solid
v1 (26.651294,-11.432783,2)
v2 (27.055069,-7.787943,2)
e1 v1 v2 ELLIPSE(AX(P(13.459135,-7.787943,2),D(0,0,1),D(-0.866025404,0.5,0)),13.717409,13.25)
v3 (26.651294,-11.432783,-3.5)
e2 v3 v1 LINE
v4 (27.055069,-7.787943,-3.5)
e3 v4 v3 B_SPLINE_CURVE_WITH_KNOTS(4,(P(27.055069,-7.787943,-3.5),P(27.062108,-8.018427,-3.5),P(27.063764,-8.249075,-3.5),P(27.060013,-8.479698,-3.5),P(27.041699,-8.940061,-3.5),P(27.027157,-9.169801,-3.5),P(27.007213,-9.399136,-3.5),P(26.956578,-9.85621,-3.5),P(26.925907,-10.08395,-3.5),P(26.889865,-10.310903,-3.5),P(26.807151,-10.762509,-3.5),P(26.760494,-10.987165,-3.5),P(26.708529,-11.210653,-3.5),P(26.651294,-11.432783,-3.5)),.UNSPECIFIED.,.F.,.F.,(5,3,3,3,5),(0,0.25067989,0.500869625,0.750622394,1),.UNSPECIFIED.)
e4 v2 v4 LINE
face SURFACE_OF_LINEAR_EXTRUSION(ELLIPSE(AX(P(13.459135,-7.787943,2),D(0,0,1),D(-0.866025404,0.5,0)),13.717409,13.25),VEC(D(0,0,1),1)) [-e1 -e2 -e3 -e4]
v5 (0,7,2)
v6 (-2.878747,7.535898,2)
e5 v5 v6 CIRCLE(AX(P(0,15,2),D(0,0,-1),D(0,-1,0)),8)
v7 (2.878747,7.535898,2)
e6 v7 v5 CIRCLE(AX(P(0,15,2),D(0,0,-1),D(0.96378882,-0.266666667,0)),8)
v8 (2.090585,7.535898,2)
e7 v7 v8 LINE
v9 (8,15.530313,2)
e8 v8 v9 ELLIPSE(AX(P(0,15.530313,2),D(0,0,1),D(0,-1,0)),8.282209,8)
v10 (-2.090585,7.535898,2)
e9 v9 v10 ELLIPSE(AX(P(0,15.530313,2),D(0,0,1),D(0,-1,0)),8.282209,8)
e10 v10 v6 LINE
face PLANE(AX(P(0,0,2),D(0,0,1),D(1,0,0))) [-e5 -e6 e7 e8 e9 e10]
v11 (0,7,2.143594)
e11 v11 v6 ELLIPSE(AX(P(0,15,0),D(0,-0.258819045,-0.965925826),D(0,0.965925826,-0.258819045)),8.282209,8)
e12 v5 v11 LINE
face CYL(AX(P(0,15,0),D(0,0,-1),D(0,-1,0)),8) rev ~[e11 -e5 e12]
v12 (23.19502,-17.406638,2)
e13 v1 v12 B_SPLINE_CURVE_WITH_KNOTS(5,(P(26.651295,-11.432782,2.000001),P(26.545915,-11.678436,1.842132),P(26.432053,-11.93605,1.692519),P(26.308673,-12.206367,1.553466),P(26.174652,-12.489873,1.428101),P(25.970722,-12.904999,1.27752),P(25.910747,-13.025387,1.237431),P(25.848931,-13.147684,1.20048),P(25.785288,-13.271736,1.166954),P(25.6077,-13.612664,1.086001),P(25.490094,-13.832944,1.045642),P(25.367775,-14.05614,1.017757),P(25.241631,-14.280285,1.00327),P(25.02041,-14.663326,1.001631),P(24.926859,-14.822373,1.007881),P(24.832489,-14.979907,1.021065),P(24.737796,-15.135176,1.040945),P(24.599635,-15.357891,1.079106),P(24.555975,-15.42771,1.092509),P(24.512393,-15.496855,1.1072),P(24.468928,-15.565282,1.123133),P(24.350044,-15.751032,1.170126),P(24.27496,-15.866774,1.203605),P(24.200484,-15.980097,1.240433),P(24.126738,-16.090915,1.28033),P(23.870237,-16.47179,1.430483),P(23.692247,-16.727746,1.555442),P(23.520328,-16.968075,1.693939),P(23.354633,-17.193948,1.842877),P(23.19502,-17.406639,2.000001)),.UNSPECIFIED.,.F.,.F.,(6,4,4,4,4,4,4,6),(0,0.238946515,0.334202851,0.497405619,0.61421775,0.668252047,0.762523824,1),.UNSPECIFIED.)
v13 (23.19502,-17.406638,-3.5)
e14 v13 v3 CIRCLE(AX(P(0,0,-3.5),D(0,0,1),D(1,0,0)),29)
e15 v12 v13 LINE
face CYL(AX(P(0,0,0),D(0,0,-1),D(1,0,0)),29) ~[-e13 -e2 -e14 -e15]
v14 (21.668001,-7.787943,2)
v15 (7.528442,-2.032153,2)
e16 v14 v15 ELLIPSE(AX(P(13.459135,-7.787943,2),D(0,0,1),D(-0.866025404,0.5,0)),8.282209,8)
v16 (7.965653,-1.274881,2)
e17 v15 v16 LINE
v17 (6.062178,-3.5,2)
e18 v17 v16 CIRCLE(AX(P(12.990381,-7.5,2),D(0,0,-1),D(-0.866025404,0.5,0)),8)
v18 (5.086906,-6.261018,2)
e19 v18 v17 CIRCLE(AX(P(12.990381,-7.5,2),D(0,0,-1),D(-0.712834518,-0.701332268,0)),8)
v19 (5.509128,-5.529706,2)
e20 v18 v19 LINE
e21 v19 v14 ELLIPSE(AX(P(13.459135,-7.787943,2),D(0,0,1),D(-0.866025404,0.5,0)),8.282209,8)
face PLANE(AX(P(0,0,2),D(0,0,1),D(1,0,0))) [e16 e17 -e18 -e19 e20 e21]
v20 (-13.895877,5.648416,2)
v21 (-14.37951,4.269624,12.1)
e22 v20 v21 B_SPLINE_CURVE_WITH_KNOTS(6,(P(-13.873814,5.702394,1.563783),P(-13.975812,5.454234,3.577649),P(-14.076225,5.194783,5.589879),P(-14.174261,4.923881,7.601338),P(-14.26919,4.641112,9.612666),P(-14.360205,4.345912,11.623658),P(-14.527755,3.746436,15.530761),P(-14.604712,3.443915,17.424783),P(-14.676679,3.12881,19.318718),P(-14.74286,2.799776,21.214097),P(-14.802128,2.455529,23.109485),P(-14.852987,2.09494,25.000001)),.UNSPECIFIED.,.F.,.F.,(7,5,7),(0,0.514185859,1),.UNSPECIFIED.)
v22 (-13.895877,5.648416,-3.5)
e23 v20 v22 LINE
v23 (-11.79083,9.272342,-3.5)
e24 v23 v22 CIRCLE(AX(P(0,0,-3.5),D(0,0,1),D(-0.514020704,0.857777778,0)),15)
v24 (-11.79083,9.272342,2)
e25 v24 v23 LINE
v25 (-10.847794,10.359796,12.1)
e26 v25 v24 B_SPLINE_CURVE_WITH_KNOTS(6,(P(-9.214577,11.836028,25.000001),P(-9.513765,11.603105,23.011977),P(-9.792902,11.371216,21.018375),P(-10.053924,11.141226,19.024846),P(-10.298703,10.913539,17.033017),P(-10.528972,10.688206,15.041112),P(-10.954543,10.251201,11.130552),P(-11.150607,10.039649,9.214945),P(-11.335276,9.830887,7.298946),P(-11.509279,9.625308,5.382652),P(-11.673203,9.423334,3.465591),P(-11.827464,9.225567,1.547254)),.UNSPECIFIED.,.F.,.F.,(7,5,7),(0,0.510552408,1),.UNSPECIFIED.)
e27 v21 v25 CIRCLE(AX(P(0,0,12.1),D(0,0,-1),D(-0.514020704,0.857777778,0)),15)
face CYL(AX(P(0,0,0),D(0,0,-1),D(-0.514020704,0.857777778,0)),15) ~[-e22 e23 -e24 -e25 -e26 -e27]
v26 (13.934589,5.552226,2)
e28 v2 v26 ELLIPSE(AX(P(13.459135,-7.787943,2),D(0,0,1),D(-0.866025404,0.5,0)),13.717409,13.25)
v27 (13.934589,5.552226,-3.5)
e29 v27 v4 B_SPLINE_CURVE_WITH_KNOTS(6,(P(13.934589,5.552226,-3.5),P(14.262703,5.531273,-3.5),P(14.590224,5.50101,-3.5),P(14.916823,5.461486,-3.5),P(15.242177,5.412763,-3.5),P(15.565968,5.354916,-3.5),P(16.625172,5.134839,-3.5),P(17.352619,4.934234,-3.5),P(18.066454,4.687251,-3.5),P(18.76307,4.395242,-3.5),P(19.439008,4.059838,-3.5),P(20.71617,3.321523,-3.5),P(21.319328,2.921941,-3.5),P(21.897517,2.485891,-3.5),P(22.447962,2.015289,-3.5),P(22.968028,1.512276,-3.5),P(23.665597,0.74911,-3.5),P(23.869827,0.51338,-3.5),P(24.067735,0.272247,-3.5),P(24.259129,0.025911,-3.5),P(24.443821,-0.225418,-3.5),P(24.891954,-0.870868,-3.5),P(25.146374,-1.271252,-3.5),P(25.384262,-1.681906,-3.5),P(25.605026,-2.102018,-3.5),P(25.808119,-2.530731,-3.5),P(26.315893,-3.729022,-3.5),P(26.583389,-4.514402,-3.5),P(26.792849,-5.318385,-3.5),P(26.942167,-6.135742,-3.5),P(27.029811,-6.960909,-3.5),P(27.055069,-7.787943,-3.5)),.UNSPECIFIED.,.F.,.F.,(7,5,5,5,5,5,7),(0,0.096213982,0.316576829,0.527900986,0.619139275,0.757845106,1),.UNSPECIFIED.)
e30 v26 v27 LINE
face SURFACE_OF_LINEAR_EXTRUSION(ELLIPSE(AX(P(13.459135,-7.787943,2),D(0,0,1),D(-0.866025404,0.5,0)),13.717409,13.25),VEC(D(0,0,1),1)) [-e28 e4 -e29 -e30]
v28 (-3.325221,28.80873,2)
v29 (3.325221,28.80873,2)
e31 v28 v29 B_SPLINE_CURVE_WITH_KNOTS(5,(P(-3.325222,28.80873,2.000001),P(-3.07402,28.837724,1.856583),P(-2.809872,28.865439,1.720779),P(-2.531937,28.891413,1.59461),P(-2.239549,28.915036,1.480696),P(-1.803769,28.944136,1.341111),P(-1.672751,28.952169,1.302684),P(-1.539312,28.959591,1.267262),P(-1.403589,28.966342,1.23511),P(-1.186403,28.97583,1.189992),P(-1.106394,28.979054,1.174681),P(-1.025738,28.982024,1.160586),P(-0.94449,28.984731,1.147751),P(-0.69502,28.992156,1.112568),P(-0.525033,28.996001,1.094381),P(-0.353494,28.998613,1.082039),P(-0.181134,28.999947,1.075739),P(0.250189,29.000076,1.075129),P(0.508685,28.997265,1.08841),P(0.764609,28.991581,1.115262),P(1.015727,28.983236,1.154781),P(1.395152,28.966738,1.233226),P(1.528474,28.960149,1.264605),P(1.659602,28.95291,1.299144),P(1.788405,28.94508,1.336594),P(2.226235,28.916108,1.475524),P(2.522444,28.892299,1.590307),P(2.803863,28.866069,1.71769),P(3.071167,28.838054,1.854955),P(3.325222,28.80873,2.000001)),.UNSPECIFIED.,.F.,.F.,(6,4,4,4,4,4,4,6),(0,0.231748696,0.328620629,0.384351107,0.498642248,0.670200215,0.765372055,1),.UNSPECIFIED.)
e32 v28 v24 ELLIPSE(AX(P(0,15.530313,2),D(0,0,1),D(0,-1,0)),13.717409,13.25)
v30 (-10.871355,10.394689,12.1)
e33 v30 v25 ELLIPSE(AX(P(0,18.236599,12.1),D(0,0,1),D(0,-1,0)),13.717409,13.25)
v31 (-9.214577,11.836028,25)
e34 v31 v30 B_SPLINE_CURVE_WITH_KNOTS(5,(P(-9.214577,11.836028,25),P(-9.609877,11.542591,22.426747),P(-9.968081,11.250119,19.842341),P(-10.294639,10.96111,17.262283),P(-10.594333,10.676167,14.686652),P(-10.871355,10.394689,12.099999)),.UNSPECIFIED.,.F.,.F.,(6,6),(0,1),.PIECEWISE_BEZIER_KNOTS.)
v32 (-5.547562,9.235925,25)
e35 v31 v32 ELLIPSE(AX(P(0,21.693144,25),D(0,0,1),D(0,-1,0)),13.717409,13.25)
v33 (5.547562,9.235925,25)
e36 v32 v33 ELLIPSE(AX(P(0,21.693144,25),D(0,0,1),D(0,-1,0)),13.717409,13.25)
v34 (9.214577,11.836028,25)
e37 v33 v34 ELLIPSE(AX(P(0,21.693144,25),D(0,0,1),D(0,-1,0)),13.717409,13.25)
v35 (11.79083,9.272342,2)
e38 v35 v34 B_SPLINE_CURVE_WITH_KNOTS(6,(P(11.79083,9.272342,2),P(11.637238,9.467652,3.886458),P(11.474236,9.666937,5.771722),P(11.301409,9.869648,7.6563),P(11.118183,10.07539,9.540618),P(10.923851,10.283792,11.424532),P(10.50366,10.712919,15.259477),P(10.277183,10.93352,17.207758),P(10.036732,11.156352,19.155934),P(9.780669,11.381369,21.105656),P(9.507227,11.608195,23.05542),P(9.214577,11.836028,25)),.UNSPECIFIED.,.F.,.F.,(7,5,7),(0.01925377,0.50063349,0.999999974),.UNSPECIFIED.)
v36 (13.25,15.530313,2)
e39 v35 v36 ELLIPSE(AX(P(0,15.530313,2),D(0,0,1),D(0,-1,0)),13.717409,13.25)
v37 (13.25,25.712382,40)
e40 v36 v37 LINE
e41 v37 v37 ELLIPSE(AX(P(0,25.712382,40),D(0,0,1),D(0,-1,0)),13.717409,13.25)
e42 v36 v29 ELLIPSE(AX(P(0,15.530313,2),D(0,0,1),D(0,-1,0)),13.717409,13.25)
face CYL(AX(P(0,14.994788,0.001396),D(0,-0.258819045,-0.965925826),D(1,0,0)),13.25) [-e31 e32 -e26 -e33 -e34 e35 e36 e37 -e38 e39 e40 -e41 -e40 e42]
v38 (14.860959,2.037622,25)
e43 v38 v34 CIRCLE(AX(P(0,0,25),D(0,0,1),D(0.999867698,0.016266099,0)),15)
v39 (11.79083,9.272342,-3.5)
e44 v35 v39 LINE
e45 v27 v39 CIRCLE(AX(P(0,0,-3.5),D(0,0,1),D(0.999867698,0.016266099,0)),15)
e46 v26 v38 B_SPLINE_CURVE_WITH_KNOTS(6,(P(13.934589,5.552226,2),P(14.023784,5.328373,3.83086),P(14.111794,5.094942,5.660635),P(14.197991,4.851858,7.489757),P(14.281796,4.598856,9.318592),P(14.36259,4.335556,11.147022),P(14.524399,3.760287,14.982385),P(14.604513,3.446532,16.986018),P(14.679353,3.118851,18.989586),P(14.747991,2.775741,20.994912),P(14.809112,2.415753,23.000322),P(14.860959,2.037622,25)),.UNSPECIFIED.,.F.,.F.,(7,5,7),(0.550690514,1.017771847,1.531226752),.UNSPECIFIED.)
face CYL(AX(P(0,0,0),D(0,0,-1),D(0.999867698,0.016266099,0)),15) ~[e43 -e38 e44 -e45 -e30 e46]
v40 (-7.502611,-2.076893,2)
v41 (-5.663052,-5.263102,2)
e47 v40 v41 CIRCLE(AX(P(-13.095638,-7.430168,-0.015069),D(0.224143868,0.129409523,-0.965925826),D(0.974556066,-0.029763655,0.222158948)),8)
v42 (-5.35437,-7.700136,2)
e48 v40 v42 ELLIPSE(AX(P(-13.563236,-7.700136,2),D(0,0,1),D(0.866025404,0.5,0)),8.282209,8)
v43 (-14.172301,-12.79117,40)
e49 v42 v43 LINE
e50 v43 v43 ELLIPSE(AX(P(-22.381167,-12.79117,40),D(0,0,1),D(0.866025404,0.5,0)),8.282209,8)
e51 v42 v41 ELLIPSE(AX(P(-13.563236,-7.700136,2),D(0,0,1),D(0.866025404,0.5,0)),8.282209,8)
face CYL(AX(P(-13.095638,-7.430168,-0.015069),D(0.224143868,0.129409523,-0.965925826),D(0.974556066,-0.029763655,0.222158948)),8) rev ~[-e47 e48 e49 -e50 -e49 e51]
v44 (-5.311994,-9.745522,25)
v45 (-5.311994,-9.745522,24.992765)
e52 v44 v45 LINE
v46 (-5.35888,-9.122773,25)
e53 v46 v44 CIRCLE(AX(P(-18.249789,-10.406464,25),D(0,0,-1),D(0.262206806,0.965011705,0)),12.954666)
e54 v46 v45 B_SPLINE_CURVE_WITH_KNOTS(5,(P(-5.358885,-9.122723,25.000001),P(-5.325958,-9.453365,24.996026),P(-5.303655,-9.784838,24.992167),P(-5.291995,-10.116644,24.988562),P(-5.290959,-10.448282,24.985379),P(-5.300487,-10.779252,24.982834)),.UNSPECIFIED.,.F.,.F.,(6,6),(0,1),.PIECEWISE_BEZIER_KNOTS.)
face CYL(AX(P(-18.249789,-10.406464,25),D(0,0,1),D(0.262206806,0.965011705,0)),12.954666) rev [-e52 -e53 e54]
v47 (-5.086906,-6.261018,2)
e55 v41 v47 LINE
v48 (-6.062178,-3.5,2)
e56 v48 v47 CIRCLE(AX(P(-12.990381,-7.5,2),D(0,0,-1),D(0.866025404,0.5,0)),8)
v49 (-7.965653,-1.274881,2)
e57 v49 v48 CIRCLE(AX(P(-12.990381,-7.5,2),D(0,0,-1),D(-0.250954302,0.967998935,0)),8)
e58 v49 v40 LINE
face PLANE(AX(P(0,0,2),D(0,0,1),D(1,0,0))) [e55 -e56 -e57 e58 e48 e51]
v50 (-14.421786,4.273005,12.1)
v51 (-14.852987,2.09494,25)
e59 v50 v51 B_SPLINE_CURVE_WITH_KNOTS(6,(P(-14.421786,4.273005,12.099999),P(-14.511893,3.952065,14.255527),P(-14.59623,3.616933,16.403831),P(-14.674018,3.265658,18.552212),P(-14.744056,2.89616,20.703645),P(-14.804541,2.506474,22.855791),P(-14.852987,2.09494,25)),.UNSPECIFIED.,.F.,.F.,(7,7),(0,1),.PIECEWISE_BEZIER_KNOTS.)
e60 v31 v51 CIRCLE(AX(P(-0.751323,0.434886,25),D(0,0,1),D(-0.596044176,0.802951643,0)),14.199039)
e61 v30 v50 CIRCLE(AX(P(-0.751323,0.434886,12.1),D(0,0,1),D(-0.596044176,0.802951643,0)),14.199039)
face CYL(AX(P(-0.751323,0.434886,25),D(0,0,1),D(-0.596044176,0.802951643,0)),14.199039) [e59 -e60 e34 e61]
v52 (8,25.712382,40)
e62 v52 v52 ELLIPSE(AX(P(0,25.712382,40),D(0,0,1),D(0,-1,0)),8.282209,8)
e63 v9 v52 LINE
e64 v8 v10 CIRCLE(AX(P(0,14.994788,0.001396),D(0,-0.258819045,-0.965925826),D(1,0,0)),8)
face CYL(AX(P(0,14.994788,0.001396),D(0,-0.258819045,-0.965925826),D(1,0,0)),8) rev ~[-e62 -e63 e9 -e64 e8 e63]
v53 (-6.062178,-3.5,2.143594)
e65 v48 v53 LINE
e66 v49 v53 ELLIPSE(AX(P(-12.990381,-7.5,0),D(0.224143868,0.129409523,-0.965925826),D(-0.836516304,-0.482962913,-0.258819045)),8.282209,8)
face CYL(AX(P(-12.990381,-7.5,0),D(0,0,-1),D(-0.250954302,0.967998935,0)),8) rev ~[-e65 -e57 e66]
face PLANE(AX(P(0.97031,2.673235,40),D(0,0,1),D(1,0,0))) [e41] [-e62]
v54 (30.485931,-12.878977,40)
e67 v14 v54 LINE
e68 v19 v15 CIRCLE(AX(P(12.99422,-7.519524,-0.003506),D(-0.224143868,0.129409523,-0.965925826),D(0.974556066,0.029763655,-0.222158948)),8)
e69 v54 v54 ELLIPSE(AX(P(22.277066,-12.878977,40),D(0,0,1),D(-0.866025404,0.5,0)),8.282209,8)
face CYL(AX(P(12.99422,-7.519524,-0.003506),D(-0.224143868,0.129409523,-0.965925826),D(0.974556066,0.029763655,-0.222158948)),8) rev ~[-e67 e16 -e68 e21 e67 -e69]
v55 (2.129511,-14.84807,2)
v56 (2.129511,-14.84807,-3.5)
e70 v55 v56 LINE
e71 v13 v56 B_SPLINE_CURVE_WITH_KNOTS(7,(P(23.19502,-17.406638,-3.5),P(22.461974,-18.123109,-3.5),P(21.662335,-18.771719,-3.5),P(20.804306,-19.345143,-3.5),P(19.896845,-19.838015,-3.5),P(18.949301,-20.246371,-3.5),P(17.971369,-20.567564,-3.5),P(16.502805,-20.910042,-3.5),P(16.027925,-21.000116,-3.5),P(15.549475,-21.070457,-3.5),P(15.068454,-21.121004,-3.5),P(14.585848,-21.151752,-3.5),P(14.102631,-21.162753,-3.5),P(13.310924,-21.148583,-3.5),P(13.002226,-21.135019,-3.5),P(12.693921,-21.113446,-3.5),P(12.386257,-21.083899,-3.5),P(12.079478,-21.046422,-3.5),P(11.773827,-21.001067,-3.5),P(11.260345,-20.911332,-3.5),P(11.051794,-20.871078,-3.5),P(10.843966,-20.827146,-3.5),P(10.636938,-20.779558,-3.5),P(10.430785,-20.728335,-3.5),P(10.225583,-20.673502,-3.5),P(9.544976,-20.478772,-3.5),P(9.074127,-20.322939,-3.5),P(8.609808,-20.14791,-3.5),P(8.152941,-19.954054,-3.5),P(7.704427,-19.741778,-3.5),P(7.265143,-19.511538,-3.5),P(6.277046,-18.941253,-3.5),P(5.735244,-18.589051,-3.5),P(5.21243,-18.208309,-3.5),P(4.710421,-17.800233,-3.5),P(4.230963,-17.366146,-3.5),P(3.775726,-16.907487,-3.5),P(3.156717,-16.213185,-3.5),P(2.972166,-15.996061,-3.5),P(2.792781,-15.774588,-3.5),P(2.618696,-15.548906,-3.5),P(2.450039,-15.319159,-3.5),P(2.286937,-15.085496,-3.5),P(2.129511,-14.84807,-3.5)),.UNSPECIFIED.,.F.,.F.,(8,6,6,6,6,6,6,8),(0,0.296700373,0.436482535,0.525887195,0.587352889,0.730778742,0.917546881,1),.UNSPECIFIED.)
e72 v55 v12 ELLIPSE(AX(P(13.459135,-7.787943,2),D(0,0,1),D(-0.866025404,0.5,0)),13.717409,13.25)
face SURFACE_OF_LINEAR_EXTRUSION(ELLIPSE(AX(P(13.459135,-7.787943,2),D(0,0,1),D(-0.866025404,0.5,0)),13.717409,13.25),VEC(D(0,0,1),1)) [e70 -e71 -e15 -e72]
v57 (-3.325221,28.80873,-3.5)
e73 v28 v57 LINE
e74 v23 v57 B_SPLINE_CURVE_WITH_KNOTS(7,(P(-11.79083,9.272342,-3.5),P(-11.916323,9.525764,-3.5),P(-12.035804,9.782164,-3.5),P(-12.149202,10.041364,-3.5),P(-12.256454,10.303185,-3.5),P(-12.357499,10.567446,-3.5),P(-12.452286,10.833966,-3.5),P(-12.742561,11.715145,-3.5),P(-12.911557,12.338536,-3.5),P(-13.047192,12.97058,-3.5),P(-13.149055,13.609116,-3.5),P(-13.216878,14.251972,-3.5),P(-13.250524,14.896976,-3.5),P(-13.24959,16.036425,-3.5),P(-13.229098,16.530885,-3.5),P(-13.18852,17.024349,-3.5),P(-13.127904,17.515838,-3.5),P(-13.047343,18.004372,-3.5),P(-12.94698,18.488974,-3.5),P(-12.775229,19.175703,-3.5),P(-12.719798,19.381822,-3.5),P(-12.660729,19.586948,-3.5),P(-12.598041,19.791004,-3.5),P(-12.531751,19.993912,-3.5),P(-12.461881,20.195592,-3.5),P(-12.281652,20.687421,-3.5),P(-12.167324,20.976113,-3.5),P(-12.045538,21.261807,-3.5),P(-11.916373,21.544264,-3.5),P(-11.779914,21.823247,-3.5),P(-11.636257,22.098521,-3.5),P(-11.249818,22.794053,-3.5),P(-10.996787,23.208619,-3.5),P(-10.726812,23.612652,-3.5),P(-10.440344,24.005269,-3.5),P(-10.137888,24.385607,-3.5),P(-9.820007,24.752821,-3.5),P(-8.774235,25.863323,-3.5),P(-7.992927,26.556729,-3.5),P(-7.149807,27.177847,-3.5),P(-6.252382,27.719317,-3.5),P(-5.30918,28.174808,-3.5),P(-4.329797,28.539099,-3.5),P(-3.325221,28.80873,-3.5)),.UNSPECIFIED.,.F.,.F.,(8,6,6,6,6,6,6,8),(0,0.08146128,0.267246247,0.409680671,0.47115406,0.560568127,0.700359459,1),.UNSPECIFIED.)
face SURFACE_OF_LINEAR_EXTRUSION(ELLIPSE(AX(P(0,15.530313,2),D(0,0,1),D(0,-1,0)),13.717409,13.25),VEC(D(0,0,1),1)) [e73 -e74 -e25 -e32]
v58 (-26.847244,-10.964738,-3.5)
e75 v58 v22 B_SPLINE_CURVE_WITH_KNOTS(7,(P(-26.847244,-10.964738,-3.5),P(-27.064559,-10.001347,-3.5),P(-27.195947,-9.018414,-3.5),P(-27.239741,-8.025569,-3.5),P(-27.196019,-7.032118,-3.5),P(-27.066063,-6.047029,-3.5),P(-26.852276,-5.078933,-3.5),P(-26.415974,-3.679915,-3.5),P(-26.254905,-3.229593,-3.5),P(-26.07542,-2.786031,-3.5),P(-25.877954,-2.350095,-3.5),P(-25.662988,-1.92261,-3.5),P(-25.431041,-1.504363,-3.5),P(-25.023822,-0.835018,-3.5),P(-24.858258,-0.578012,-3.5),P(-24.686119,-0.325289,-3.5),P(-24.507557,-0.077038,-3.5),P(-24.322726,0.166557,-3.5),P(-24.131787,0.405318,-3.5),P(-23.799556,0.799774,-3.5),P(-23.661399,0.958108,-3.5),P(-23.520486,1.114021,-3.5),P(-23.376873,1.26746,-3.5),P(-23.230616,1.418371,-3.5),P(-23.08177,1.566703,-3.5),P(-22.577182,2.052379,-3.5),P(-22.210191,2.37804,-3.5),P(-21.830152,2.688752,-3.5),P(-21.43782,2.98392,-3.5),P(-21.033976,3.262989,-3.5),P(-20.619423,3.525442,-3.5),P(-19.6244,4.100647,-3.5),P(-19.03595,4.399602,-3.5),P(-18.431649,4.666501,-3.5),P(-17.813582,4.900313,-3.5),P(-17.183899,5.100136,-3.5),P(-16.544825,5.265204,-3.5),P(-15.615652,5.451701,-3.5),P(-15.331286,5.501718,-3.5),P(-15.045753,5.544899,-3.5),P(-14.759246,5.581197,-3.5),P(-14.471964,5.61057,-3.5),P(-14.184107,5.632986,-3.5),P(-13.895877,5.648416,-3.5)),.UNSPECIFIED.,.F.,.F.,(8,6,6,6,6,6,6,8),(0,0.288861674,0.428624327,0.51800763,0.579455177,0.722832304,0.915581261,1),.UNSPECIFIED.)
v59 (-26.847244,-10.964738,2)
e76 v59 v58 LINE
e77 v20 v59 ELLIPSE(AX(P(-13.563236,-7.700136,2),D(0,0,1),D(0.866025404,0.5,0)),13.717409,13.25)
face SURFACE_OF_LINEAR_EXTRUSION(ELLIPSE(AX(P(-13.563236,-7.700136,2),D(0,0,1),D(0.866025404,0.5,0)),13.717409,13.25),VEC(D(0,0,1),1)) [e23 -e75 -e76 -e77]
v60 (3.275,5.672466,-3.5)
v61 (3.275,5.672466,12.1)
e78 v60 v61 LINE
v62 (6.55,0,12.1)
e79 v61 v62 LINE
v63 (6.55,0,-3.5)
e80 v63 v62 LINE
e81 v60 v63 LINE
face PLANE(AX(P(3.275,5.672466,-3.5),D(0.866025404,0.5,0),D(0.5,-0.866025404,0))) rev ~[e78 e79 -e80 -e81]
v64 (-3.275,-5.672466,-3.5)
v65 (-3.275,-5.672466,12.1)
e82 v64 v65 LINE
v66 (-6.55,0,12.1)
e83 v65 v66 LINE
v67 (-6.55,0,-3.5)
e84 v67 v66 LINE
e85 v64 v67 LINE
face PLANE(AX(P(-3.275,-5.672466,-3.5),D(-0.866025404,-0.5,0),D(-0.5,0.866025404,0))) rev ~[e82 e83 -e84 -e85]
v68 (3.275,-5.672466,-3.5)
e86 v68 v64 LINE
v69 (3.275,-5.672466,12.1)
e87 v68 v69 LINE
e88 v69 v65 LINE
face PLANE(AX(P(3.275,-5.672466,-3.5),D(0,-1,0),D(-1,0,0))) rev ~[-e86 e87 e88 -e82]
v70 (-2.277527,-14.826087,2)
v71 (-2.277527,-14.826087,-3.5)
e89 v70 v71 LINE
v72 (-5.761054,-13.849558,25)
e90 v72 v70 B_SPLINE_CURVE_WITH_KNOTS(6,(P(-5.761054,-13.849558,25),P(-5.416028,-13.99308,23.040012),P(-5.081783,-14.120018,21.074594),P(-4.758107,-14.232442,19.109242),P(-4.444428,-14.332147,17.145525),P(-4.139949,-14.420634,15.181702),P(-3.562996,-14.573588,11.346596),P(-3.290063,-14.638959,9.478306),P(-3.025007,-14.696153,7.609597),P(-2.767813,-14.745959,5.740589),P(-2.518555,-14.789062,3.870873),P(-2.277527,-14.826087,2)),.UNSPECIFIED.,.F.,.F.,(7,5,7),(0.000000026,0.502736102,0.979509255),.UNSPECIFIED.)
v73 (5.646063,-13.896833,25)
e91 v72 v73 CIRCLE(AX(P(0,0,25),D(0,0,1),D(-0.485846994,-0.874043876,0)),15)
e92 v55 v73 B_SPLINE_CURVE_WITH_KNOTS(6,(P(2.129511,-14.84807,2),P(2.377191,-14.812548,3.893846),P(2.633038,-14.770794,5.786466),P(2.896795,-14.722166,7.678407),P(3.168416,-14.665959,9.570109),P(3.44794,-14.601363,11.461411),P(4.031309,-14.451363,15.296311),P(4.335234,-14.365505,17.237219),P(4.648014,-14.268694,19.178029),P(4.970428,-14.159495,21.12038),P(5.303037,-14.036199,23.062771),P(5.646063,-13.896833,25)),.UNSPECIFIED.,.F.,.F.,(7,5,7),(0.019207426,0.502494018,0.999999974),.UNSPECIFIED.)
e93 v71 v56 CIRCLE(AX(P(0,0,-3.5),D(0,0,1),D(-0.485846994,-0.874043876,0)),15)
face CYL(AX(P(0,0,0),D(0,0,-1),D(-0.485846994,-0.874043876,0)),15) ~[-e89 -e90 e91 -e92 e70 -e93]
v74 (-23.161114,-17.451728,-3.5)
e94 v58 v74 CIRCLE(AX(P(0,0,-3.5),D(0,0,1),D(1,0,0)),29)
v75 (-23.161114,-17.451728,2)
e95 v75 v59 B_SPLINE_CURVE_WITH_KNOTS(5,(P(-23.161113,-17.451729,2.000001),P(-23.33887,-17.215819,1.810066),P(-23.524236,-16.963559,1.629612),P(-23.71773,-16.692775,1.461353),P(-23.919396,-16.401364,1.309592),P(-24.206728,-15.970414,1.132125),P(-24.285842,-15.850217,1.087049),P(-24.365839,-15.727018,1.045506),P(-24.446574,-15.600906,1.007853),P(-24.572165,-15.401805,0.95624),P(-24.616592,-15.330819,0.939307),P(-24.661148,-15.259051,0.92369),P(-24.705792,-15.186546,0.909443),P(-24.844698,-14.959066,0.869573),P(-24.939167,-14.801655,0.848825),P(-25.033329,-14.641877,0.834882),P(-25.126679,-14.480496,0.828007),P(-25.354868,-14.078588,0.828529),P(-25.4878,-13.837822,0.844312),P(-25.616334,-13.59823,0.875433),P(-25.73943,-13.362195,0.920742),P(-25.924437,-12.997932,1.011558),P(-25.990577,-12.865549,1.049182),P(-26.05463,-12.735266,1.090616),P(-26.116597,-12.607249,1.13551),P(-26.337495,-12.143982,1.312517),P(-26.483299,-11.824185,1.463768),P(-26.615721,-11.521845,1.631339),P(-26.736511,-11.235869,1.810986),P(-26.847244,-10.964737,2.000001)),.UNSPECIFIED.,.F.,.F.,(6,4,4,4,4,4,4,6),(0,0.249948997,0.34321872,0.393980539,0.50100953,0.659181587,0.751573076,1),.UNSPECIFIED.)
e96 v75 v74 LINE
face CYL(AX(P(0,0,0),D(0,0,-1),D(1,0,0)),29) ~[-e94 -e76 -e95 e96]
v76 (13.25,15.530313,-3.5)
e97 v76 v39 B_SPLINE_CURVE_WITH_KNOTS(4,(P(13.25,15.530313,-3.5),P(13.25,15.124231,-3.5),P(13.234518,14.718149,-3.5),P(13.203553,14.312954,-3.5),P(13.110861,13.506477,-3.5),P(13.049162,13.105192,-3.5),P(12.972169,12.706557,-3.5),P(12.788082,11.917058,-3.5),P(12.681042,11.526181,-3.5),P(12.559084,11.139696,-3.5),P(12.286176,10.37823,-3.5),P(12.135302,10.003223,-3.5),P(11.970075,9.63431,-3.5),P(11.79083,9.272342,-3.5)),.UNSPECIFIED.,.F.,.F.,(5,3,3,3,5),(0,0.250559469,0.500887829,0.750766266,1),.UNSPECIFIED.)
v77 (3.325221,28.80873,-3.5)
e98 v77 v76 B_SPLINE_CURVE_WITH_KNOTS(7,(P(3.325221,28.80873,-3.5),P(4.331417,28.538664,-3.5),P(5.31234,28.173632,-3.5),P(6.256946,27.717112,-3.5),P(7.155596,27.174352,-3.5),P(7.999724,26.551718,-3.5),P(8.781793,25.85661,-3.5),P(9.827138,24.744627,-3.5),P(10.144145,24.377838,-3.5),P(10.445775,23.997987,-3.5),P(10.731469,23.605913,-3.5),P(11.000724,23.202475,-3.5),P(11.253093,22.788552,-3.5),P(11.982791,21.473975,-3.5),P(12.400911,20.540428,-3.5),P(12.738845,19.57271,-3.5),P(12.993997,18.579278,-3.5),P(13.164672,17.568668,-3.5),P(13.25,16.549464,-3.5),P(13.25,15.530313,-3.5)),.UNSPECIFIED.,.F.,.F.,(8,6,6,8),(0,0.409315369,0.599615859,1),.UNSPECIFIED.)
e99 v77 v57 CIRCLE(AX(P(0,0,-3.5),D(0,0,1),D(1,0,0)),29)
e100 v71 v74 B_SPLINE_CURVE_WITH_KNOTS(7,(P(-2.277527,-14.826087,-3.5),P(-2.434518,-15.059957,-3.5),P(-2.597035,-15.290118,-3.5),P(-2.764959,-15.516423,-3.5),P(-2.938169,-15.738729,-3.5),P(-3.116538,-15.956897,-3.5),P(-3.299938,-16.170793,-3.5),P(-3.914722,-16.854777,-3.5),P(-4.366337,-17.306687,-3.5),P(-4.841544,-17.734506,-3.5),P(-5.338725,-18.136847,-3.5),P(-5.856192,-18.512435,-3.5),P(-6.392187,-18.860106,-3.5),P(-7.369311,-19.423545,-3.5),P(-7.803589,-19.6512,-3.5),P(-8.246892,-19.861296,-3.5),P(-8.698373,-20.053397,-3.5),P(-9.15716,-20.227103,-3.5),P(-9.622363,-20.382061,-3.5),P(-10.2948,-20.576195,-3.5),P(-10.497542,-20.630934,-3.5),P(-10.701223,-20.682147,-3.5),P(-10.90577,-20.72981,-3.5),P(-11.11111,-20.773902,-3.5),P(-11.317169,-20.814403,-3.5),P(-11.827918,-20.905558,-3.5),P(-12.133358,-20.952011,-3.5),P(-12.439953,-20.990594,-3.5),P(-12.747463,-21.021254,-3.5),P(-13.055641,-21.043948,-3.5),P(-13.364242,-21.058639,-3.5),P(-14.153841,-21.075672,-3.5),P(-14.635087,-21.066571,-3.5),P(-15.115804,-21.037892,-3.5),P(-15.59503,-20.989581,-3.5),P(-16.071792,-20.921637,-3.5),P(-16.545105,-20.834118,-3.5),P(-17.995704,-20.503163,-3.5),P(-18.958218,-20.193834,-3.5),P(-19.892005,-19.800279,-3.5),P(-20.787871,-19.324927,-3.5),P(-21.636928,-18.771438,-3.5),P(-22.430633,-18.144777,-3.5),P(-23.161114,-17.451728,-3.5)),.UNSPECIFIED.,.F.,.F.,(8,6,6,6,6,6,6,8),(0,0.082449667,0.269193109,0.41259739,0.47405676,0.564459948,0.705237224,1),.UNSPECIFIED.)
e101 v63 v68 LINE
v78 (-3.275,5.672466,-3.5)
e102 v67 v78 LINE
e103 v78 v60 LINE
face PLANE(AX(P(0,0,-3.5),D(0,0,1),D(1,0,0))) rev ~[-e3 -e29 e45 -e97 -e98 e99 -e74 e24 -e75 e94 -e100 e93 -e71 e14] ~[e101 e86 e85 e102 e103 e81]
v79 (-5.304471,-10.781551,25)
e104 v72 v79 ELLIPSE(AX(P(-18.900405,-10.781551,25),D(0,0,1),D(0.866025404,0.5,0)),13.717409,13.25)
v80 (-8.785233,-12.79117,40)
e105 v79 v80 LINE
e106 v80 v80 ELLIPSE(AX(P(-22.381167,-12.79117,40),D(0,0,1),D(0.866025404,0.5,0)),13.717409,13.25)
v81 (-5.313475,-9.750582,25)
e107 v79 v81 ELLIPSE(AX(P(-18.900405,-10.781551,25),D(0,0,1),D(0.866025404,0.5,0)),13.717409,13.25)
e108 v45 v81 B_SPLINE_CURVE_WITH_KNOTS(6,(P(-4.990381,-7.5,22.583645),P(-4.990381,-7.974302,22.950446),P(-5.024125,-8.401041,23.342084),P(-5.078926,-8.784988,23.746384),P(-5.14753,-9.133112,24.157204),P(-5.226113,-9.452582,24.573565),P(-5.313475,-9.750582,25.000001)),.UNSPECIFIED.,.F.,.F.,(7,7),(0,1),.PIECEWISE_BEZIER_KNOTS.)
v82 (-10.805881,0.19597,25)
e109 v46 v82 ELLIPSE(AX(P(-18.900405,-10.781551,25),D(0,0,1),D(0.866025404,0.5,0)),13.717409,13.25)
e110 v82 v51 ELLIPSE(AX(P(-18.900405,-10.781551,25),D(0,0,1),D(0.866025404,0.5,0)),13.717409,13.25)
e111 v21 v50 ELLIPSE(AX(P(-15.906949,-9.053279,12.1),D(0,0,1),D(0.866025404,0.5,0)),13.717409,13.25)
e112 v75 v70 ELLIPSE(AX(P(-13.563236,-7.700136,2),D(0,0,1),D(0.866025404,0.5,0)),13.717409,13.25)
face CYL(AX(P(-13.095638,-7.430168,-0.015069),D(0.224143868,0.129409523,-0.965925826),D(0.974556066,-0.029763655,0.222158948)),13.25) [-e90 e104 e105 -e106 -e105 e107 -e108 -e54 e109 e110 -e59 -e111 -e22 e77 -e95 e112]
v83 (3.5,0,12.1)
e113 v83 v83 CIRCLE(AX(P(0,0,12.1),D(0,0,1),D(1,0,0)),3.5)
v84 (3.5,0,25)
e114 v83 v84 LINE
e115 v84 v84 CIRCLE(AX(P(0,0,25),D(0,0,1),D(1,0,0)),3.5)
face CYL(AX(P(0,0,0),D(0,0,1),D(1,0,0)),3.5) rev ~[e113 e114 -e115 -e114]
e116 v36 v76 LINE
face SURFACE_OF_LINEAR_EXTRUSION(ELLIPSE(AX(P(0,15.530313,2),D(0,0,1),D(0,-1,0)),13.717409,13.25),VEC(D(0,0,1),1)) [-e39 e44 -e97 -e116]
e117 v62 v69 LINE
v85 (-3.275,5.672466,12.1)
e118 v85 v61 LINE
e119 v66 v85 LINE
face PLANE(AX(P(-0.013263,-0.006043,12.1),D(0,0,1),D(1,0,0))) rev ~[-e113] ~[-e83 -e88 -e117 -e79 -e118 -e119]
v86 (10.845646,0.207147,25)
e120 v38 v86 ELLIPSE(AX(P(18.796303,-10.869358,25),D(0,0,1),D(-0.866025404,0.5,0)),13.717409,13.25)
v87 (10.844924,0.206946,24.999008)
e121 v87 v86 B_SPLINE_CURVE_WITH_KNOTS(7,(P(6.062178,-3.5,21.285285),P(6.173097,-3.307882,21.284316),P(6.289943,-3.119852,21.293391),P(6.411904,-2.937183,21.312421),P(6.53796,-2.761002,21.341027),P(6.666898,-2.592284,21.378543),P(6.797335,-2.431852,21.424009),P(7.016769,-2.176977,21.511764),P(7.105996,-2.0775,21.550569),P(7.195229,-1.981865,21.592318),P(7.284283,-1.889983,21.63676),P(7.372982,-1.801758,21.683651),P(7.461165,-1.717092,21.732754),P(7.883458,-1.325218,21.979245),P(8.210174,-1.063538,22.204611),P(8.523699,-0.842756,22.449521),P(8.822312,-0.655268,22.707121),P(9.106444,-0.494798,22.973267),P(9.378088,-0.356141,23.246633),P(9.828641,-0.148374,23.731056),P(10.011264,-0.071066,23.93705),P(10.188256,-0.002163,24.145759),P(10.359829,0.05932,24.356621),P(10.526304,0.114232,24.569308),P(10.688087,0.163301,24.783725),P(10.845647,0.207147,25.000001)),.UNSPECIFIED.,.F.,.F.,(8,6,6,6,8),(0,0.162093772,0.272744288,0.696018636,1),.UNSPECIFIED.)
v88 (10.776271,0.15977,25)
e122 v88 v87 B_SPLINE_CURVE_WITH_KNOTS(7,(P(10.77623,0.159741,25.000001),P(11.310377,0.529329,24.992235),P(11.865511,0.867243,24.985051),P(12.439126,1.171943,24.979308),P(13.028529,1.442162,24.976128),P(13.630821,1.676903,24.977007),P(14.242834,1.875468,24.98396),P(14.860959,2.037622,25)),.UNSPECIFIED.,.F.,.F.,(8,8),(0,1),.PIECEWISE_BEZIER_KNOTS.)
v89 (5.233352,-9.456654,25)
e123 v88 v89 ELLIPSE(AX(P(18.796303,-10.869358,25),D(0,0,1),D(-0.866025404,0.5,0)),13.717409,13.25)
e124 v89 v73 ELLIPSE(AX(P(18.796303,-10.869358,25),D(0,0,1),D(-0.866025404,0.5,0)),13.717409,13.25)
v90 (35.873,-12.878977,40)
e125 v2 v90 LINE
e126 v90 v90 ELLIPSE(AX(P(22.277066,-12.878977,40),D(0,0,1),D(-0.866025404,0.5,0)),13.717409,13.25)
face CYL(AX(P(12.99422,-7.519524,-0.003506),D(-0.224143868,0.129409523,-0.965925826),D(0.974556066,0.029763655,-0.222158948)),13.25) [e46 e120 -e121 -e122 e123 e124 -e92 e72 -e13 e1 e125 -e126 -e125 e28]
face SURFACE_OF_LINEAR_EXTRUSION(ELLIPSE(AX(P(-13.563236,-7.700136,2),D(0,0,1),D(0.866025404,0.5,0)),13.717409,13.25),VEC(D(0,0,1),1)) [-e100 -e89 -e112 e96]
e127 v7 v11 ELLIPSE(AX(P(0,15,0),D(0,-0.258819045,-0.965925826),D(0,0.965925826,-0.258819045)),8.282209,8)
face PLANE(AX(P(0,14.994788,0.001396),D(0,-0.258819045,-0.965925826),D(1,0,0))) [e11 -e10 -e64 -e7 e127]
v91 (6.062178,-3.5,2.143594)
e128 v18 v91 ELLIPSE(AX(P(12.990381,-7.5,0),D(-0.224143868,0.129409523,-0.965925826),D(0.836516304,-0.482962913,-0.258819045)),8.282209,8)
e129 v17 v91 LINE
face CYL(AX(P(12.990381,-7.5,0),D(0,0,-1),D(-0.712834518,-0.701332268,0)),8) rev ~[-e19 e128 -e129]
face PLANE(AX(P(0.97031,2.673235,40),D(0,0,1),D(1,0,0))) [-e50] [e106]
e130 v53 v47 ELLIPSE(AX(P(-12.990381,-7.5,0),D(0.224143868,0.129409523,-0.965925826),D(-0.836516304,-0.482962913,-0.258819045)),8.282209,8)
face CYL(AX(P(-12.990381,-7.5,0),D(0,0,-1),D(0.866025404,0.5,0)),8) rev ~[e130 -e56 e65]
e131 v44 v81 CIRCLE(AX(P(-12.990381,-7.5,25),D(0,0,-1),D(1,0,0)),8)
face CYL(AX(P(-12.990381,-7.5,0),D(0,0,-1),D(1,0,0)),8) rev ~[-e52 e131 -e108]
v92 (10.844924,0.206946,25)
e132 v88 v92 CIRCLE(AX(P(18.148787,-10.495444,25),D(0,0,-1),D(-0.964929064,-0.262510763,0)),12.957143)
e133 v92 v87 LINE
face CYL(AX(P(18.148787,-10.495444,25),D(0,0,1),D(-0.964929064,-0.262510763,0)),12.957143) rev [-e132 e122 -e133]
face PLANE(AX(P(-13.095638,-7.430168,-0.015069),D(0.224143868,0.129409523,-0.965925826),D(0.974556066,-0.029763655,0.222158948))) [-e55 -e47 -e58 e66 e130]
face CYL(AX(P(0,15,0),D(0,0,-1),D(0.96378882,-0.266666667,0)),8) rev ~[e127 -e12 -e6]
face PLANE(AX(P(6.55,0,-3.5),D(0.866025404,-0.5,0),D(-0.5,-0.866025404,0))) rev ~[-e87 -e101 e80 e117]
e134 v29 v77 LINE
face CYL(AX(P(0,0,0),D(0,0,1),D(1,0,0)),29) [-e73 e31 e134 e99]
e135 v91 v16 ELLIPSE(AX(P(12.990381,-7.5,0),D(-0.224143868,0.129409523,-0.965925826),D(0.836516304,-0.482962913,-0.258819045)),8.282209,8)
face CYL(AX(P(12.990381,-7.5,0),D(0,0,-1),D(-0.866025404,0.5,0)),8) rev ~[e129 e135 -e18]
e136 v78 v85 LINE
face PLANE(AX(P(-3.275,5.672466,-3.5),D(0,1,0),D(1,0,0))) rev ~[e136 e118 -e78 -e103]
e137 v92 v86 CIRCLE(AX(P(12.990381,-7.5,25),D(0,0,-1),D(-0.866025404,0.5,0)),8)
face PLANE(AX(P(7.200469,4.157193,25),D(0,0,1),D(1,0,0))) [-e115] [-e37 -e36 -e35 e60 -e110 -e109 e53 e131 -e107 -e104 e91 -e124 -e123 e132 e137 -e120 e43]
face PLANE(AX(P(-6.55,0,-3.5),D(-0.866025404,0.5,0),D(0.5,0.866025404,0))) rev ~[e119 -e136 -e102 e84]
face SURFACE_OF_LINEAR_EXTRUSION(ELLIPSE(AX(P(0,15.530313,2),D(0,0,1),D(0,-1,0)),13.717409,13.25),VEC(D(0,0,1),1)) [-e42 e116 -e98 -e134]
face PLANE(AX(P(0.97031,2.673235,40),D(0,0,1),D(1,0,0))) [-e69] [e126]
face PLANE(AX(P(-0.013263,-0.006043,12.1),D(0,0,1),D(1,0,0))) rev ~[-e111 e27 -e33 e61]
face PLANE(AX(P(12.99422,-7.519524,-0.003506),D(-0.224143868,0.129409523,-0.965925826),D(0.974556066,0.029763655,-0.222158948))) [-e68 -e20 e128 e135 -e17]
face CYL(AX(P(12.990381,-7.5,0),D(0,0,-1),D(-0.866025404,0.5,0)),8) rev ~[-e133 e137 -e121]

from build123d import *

# Parameters (mm, degrees)
F5_R           = 13.25
F5_R_2         = 8
F7_DEPTH       = 50
F4_R           = 13.25
F4_R_2         = 8
F8_DEPTH       = 50
F6_R           = 13.25
F6_R_2         = 8
F9_DEPTH       = 50
F10_DEPTH      = 25
F11_R          = 29
F12_DEPTH      = 3.5
F12_DEPTH_BACK = 2
F13_R          = 3.5
F14_DEPTH      = 51.7280401213
F14_DEPTH_BACK = 25
F17_DEPTH      = 20
F18_R          = 3.5
F19_DEPTH      = 12.9
F20_DEPTH      = 25
F22_W          = 110.3683225811
F22_H          = 78.3186629415
F23_DEPTH      = 25


with BuildPart() as f7:
    # F5 (on line) → F7 (new body)
    with BuildSketch(Plane(origin=(0.8701905284, -0.5024047358, 3.75), x_dir=(0.9745560663, 0.0297636554, -0.2221589485), z_dir=(-0.224143868, 0.1294095226, -0.9659258263))):
        with Locations((12.4405659735, 7.4533997104)):
            Circle(F5_R)
        with Locations((12.4405659735, 7.4533997104)):
            Circle(F5_R_2, mode=Mode.SUBTRACT)
    extrude(amount=-F7_DEPTH)


with BuildPart() as f8:
    # F4 (on line) → F8 (new body)
    with BuildSketch(Plane(origin=(-0.8701905284, -0.5024047358, 3.75), x_dir=(0.9745560663, -0.0297636554, 0.2221589485), z_dir=(0.224143868, 0.1294095226, -0.9659258263))):
        with Locations((-12.544631958, 7.3663704097)):
            Circle(F4_R)
        with Locations((-12.544631958, 7.3663704097)):
            Circle(F4_R_2, mode=Mode.SUBTRACT)
    extrude(amount=-F8_DEPTH)


with BuildPart() as f9:
    # F6 (on line) → F9 (new body)
    with BuildSketch(Plane(origin=(0, 1.0048094716, 3.75), x_dir=(1, 0, 0), z_dir=(0, -0.2588190451, -0.9659258263))):
        with Locations((0, -14.4834918901)):
            Circle(F6_R)
        with Locations((0, -14.4834918901)):
            Circle(F6_R_2, mode=Mode.SUBTRACT)
    extrude(amount=-F9_DEPTH)


with BuildPart() as f10:
    # F0 (on Top) → F10 (new body)
    with BuildSketch(Plane.XY):
        with BuildLine():
            Line((0, 0), (6.0621778265, -3.5))
            ThreePointArc((6.0621778265, -3.5), (9.8988818392, -0.1214749043), (14.998015474, 0.2439914803))
            ThreePointArc((14.998015474, 0.2439914803), (12.9903810568, 7.5), (7.7103105572, 12.8666666667))
            ThreePointArc((7.7103105572, 12.8666666667), (4.8442405666, 8.633420594), (0, 7))
            Line((0, 7), (0, 0))
        make_face()
        with BuildLine():
            Line((-6.0621778265, -3.5), (0, 0))
            Line((0, 0), (0, 7))
            ThreePointArc((0, 7), (-4.8442405666, 8.633420594), (-7.7103105572, 12.8666666667))
            ThreePointArc((-7.7103105572, 12.8666666667), (-12.9903810568, 7.5), (-14.998015474, 0.2439914803))
            ThreePointArc((-14.998015474, 0.2439914803), (-9.8988818392, -0.1214749043), (-6.0621778265, -3.5))
        make_face()
        with BuildLine():
            ThreePointArc((-7.2877049167, -13.110658147), (0, -15), (7.2877049167, -13.110658147))
            ThreePointArc((7.2877049167, -13.110658147), (5.0546412727, -8.5119456897), (6.0621778265, -3.5))
            Line((6.0621778265, -3.5), (0, 0))
            Line((0, 0), (-6.0621778265, -3.5))
            ThreePointArc((-6.0621778265, -3.5), (-5.2629744465, -5.4294476392), (-4.9903810568, -7.5))
            ThreePointArc((-4.9903810568, -7.5), (-5.5869558657, -10.5313850696), (-7.2877049167, -13.110658147))
        make_face()
    extrude(amount=F10_DEPTH)


with BuildPart() as f12:
    # F11 (on Top) → F12 (new body, two sides)
    with BuildSketch(Plane.XY) as f12_sk:
        Circle(F11_R)
    extrude(amount=-F12_DEPTH)
    extrude(f12_sk.sketch, amount=F12_DEPTH_BACK)


with BuildPart() as f14_tool:
    # F13 (on Top) → F14 (new body, two sides)
    with BuildSketch(Plane.XY) as f14_sk:
        Circle(F13_R)
    extrude(amount=F14_DEPTH)
    extrude(f14_sk.sketch, amount=-F14_DEPTH_BACK)


with BuildPart() as f7_1:
    add(f7.part)

    # F14: cut by f14_tool
    add(f14_tool.part, mode=Mode.SUBTRACT)


with BuildPart() as f8_1:
    add(f8.part)

    # F14: cut by f14_tool
    add(f14_tool.part, mode=Mode.SUBTRACT)


with BuildPart() as f9_1:
    add(f9.part)

    # F14: cut by f14_tool
    add(f14_tool.part, mode=Mode.SUBTRACT)


with BuildPart() as f10_1:
    add(f10.part)

    # F14: cut by f14_tool
    add(f14_tool.part, mode=Mode.SUBTRACT)


with BuildPart() as f12_1:
    add(f12.part)

    # F14: cut by f14_tool
    add(f14_tool.part, mode=Mode.SUBTRACT)


with BuildPart() as f7_2:
    add(f7_1.part)

    # F15: union F8, F9, F10, F12
    add(f8_1.part)
    add(f9_1.part)
    add(f10_1.part)
    add(f12_1.part)

    # F16 (on face) → F17 (cut)
    with BuildSketch(Plane(origin=(0, 0, -3.5), x_dir=(1, 0, 0), z_dir=(0, 0, -1))):
        Polygon((-3.275, -5.6724663948), (3.275, -5.6724663948), (6.55, 0), (3.275, 5.6724663948), (-3.275, 5.6724663948), (-6.55, 0), align=None)
    extrude(amount=-F17_DEPTH, mode=Mode.SUBTRACT)

    # F18 (on face) → F19 (join)
    with BuildSketch(Plane.XY.offset(25)):
        with BuildLine():
            ThreePointArc((9.2145774198, 11.8360281756), (0, 7.9883032381), (-9.2145774198, 11.8360281756))
            ThreePointArc((-9.2145774198, 11.8360281756), (-13.0401831697, 7.5480168017), (-14.8529870725, 2.0949403392))
            ThreePointArc((-14.8529870725, 2.0949403392), (-6.9961529284, -3.9893730543), (-5.7610544028, -13.849557833))
            ThreePointArc((-5.7610544028, -13.849557833), (-0.06216489, -14.9998711837), (5.646063326, -13.8968330536))
            ThreePointArc((5.646063326, -13.8968330536), (6.9321877833, -4.0088841204), (14.8609587483, 2.0376224091))
            ThreePointArc((14.8609587483, 2.0376224091), (12.9965398986, 7.4893224435), (9.2145774198, 11.8360281756))
        make_face()
        Circle(F18_R, mode=Mode.SUBTRACT)
    extrude(amount=-F19_DEPTH)

    # F20 (cut): faces of the model
    f20_faces = [f7_2.faces().sort_by_distance(p)[0] for p in [
        (-0.065182715, -22.8612906219, 2),
        (19.8111281547, 11.4386598585, 2),
        (-19.780330483, 11.5571321241, 2),
    ]]
    extrude(f20_faces, amount=-F20_DEPTH, mode=Mode.SUBTRACT)

    # F22 (on offset) → F23 (cut)
    with BuildSketch(Plane.XY.offset(40)):
        with Locations((0.9703096002, 2.6732347906)):
            Rectangle(F22_W, F22_H)
    extrude(amount=F23_DEPTH, mode=Mode.SUBTRACT)


solid = f7_2.part
